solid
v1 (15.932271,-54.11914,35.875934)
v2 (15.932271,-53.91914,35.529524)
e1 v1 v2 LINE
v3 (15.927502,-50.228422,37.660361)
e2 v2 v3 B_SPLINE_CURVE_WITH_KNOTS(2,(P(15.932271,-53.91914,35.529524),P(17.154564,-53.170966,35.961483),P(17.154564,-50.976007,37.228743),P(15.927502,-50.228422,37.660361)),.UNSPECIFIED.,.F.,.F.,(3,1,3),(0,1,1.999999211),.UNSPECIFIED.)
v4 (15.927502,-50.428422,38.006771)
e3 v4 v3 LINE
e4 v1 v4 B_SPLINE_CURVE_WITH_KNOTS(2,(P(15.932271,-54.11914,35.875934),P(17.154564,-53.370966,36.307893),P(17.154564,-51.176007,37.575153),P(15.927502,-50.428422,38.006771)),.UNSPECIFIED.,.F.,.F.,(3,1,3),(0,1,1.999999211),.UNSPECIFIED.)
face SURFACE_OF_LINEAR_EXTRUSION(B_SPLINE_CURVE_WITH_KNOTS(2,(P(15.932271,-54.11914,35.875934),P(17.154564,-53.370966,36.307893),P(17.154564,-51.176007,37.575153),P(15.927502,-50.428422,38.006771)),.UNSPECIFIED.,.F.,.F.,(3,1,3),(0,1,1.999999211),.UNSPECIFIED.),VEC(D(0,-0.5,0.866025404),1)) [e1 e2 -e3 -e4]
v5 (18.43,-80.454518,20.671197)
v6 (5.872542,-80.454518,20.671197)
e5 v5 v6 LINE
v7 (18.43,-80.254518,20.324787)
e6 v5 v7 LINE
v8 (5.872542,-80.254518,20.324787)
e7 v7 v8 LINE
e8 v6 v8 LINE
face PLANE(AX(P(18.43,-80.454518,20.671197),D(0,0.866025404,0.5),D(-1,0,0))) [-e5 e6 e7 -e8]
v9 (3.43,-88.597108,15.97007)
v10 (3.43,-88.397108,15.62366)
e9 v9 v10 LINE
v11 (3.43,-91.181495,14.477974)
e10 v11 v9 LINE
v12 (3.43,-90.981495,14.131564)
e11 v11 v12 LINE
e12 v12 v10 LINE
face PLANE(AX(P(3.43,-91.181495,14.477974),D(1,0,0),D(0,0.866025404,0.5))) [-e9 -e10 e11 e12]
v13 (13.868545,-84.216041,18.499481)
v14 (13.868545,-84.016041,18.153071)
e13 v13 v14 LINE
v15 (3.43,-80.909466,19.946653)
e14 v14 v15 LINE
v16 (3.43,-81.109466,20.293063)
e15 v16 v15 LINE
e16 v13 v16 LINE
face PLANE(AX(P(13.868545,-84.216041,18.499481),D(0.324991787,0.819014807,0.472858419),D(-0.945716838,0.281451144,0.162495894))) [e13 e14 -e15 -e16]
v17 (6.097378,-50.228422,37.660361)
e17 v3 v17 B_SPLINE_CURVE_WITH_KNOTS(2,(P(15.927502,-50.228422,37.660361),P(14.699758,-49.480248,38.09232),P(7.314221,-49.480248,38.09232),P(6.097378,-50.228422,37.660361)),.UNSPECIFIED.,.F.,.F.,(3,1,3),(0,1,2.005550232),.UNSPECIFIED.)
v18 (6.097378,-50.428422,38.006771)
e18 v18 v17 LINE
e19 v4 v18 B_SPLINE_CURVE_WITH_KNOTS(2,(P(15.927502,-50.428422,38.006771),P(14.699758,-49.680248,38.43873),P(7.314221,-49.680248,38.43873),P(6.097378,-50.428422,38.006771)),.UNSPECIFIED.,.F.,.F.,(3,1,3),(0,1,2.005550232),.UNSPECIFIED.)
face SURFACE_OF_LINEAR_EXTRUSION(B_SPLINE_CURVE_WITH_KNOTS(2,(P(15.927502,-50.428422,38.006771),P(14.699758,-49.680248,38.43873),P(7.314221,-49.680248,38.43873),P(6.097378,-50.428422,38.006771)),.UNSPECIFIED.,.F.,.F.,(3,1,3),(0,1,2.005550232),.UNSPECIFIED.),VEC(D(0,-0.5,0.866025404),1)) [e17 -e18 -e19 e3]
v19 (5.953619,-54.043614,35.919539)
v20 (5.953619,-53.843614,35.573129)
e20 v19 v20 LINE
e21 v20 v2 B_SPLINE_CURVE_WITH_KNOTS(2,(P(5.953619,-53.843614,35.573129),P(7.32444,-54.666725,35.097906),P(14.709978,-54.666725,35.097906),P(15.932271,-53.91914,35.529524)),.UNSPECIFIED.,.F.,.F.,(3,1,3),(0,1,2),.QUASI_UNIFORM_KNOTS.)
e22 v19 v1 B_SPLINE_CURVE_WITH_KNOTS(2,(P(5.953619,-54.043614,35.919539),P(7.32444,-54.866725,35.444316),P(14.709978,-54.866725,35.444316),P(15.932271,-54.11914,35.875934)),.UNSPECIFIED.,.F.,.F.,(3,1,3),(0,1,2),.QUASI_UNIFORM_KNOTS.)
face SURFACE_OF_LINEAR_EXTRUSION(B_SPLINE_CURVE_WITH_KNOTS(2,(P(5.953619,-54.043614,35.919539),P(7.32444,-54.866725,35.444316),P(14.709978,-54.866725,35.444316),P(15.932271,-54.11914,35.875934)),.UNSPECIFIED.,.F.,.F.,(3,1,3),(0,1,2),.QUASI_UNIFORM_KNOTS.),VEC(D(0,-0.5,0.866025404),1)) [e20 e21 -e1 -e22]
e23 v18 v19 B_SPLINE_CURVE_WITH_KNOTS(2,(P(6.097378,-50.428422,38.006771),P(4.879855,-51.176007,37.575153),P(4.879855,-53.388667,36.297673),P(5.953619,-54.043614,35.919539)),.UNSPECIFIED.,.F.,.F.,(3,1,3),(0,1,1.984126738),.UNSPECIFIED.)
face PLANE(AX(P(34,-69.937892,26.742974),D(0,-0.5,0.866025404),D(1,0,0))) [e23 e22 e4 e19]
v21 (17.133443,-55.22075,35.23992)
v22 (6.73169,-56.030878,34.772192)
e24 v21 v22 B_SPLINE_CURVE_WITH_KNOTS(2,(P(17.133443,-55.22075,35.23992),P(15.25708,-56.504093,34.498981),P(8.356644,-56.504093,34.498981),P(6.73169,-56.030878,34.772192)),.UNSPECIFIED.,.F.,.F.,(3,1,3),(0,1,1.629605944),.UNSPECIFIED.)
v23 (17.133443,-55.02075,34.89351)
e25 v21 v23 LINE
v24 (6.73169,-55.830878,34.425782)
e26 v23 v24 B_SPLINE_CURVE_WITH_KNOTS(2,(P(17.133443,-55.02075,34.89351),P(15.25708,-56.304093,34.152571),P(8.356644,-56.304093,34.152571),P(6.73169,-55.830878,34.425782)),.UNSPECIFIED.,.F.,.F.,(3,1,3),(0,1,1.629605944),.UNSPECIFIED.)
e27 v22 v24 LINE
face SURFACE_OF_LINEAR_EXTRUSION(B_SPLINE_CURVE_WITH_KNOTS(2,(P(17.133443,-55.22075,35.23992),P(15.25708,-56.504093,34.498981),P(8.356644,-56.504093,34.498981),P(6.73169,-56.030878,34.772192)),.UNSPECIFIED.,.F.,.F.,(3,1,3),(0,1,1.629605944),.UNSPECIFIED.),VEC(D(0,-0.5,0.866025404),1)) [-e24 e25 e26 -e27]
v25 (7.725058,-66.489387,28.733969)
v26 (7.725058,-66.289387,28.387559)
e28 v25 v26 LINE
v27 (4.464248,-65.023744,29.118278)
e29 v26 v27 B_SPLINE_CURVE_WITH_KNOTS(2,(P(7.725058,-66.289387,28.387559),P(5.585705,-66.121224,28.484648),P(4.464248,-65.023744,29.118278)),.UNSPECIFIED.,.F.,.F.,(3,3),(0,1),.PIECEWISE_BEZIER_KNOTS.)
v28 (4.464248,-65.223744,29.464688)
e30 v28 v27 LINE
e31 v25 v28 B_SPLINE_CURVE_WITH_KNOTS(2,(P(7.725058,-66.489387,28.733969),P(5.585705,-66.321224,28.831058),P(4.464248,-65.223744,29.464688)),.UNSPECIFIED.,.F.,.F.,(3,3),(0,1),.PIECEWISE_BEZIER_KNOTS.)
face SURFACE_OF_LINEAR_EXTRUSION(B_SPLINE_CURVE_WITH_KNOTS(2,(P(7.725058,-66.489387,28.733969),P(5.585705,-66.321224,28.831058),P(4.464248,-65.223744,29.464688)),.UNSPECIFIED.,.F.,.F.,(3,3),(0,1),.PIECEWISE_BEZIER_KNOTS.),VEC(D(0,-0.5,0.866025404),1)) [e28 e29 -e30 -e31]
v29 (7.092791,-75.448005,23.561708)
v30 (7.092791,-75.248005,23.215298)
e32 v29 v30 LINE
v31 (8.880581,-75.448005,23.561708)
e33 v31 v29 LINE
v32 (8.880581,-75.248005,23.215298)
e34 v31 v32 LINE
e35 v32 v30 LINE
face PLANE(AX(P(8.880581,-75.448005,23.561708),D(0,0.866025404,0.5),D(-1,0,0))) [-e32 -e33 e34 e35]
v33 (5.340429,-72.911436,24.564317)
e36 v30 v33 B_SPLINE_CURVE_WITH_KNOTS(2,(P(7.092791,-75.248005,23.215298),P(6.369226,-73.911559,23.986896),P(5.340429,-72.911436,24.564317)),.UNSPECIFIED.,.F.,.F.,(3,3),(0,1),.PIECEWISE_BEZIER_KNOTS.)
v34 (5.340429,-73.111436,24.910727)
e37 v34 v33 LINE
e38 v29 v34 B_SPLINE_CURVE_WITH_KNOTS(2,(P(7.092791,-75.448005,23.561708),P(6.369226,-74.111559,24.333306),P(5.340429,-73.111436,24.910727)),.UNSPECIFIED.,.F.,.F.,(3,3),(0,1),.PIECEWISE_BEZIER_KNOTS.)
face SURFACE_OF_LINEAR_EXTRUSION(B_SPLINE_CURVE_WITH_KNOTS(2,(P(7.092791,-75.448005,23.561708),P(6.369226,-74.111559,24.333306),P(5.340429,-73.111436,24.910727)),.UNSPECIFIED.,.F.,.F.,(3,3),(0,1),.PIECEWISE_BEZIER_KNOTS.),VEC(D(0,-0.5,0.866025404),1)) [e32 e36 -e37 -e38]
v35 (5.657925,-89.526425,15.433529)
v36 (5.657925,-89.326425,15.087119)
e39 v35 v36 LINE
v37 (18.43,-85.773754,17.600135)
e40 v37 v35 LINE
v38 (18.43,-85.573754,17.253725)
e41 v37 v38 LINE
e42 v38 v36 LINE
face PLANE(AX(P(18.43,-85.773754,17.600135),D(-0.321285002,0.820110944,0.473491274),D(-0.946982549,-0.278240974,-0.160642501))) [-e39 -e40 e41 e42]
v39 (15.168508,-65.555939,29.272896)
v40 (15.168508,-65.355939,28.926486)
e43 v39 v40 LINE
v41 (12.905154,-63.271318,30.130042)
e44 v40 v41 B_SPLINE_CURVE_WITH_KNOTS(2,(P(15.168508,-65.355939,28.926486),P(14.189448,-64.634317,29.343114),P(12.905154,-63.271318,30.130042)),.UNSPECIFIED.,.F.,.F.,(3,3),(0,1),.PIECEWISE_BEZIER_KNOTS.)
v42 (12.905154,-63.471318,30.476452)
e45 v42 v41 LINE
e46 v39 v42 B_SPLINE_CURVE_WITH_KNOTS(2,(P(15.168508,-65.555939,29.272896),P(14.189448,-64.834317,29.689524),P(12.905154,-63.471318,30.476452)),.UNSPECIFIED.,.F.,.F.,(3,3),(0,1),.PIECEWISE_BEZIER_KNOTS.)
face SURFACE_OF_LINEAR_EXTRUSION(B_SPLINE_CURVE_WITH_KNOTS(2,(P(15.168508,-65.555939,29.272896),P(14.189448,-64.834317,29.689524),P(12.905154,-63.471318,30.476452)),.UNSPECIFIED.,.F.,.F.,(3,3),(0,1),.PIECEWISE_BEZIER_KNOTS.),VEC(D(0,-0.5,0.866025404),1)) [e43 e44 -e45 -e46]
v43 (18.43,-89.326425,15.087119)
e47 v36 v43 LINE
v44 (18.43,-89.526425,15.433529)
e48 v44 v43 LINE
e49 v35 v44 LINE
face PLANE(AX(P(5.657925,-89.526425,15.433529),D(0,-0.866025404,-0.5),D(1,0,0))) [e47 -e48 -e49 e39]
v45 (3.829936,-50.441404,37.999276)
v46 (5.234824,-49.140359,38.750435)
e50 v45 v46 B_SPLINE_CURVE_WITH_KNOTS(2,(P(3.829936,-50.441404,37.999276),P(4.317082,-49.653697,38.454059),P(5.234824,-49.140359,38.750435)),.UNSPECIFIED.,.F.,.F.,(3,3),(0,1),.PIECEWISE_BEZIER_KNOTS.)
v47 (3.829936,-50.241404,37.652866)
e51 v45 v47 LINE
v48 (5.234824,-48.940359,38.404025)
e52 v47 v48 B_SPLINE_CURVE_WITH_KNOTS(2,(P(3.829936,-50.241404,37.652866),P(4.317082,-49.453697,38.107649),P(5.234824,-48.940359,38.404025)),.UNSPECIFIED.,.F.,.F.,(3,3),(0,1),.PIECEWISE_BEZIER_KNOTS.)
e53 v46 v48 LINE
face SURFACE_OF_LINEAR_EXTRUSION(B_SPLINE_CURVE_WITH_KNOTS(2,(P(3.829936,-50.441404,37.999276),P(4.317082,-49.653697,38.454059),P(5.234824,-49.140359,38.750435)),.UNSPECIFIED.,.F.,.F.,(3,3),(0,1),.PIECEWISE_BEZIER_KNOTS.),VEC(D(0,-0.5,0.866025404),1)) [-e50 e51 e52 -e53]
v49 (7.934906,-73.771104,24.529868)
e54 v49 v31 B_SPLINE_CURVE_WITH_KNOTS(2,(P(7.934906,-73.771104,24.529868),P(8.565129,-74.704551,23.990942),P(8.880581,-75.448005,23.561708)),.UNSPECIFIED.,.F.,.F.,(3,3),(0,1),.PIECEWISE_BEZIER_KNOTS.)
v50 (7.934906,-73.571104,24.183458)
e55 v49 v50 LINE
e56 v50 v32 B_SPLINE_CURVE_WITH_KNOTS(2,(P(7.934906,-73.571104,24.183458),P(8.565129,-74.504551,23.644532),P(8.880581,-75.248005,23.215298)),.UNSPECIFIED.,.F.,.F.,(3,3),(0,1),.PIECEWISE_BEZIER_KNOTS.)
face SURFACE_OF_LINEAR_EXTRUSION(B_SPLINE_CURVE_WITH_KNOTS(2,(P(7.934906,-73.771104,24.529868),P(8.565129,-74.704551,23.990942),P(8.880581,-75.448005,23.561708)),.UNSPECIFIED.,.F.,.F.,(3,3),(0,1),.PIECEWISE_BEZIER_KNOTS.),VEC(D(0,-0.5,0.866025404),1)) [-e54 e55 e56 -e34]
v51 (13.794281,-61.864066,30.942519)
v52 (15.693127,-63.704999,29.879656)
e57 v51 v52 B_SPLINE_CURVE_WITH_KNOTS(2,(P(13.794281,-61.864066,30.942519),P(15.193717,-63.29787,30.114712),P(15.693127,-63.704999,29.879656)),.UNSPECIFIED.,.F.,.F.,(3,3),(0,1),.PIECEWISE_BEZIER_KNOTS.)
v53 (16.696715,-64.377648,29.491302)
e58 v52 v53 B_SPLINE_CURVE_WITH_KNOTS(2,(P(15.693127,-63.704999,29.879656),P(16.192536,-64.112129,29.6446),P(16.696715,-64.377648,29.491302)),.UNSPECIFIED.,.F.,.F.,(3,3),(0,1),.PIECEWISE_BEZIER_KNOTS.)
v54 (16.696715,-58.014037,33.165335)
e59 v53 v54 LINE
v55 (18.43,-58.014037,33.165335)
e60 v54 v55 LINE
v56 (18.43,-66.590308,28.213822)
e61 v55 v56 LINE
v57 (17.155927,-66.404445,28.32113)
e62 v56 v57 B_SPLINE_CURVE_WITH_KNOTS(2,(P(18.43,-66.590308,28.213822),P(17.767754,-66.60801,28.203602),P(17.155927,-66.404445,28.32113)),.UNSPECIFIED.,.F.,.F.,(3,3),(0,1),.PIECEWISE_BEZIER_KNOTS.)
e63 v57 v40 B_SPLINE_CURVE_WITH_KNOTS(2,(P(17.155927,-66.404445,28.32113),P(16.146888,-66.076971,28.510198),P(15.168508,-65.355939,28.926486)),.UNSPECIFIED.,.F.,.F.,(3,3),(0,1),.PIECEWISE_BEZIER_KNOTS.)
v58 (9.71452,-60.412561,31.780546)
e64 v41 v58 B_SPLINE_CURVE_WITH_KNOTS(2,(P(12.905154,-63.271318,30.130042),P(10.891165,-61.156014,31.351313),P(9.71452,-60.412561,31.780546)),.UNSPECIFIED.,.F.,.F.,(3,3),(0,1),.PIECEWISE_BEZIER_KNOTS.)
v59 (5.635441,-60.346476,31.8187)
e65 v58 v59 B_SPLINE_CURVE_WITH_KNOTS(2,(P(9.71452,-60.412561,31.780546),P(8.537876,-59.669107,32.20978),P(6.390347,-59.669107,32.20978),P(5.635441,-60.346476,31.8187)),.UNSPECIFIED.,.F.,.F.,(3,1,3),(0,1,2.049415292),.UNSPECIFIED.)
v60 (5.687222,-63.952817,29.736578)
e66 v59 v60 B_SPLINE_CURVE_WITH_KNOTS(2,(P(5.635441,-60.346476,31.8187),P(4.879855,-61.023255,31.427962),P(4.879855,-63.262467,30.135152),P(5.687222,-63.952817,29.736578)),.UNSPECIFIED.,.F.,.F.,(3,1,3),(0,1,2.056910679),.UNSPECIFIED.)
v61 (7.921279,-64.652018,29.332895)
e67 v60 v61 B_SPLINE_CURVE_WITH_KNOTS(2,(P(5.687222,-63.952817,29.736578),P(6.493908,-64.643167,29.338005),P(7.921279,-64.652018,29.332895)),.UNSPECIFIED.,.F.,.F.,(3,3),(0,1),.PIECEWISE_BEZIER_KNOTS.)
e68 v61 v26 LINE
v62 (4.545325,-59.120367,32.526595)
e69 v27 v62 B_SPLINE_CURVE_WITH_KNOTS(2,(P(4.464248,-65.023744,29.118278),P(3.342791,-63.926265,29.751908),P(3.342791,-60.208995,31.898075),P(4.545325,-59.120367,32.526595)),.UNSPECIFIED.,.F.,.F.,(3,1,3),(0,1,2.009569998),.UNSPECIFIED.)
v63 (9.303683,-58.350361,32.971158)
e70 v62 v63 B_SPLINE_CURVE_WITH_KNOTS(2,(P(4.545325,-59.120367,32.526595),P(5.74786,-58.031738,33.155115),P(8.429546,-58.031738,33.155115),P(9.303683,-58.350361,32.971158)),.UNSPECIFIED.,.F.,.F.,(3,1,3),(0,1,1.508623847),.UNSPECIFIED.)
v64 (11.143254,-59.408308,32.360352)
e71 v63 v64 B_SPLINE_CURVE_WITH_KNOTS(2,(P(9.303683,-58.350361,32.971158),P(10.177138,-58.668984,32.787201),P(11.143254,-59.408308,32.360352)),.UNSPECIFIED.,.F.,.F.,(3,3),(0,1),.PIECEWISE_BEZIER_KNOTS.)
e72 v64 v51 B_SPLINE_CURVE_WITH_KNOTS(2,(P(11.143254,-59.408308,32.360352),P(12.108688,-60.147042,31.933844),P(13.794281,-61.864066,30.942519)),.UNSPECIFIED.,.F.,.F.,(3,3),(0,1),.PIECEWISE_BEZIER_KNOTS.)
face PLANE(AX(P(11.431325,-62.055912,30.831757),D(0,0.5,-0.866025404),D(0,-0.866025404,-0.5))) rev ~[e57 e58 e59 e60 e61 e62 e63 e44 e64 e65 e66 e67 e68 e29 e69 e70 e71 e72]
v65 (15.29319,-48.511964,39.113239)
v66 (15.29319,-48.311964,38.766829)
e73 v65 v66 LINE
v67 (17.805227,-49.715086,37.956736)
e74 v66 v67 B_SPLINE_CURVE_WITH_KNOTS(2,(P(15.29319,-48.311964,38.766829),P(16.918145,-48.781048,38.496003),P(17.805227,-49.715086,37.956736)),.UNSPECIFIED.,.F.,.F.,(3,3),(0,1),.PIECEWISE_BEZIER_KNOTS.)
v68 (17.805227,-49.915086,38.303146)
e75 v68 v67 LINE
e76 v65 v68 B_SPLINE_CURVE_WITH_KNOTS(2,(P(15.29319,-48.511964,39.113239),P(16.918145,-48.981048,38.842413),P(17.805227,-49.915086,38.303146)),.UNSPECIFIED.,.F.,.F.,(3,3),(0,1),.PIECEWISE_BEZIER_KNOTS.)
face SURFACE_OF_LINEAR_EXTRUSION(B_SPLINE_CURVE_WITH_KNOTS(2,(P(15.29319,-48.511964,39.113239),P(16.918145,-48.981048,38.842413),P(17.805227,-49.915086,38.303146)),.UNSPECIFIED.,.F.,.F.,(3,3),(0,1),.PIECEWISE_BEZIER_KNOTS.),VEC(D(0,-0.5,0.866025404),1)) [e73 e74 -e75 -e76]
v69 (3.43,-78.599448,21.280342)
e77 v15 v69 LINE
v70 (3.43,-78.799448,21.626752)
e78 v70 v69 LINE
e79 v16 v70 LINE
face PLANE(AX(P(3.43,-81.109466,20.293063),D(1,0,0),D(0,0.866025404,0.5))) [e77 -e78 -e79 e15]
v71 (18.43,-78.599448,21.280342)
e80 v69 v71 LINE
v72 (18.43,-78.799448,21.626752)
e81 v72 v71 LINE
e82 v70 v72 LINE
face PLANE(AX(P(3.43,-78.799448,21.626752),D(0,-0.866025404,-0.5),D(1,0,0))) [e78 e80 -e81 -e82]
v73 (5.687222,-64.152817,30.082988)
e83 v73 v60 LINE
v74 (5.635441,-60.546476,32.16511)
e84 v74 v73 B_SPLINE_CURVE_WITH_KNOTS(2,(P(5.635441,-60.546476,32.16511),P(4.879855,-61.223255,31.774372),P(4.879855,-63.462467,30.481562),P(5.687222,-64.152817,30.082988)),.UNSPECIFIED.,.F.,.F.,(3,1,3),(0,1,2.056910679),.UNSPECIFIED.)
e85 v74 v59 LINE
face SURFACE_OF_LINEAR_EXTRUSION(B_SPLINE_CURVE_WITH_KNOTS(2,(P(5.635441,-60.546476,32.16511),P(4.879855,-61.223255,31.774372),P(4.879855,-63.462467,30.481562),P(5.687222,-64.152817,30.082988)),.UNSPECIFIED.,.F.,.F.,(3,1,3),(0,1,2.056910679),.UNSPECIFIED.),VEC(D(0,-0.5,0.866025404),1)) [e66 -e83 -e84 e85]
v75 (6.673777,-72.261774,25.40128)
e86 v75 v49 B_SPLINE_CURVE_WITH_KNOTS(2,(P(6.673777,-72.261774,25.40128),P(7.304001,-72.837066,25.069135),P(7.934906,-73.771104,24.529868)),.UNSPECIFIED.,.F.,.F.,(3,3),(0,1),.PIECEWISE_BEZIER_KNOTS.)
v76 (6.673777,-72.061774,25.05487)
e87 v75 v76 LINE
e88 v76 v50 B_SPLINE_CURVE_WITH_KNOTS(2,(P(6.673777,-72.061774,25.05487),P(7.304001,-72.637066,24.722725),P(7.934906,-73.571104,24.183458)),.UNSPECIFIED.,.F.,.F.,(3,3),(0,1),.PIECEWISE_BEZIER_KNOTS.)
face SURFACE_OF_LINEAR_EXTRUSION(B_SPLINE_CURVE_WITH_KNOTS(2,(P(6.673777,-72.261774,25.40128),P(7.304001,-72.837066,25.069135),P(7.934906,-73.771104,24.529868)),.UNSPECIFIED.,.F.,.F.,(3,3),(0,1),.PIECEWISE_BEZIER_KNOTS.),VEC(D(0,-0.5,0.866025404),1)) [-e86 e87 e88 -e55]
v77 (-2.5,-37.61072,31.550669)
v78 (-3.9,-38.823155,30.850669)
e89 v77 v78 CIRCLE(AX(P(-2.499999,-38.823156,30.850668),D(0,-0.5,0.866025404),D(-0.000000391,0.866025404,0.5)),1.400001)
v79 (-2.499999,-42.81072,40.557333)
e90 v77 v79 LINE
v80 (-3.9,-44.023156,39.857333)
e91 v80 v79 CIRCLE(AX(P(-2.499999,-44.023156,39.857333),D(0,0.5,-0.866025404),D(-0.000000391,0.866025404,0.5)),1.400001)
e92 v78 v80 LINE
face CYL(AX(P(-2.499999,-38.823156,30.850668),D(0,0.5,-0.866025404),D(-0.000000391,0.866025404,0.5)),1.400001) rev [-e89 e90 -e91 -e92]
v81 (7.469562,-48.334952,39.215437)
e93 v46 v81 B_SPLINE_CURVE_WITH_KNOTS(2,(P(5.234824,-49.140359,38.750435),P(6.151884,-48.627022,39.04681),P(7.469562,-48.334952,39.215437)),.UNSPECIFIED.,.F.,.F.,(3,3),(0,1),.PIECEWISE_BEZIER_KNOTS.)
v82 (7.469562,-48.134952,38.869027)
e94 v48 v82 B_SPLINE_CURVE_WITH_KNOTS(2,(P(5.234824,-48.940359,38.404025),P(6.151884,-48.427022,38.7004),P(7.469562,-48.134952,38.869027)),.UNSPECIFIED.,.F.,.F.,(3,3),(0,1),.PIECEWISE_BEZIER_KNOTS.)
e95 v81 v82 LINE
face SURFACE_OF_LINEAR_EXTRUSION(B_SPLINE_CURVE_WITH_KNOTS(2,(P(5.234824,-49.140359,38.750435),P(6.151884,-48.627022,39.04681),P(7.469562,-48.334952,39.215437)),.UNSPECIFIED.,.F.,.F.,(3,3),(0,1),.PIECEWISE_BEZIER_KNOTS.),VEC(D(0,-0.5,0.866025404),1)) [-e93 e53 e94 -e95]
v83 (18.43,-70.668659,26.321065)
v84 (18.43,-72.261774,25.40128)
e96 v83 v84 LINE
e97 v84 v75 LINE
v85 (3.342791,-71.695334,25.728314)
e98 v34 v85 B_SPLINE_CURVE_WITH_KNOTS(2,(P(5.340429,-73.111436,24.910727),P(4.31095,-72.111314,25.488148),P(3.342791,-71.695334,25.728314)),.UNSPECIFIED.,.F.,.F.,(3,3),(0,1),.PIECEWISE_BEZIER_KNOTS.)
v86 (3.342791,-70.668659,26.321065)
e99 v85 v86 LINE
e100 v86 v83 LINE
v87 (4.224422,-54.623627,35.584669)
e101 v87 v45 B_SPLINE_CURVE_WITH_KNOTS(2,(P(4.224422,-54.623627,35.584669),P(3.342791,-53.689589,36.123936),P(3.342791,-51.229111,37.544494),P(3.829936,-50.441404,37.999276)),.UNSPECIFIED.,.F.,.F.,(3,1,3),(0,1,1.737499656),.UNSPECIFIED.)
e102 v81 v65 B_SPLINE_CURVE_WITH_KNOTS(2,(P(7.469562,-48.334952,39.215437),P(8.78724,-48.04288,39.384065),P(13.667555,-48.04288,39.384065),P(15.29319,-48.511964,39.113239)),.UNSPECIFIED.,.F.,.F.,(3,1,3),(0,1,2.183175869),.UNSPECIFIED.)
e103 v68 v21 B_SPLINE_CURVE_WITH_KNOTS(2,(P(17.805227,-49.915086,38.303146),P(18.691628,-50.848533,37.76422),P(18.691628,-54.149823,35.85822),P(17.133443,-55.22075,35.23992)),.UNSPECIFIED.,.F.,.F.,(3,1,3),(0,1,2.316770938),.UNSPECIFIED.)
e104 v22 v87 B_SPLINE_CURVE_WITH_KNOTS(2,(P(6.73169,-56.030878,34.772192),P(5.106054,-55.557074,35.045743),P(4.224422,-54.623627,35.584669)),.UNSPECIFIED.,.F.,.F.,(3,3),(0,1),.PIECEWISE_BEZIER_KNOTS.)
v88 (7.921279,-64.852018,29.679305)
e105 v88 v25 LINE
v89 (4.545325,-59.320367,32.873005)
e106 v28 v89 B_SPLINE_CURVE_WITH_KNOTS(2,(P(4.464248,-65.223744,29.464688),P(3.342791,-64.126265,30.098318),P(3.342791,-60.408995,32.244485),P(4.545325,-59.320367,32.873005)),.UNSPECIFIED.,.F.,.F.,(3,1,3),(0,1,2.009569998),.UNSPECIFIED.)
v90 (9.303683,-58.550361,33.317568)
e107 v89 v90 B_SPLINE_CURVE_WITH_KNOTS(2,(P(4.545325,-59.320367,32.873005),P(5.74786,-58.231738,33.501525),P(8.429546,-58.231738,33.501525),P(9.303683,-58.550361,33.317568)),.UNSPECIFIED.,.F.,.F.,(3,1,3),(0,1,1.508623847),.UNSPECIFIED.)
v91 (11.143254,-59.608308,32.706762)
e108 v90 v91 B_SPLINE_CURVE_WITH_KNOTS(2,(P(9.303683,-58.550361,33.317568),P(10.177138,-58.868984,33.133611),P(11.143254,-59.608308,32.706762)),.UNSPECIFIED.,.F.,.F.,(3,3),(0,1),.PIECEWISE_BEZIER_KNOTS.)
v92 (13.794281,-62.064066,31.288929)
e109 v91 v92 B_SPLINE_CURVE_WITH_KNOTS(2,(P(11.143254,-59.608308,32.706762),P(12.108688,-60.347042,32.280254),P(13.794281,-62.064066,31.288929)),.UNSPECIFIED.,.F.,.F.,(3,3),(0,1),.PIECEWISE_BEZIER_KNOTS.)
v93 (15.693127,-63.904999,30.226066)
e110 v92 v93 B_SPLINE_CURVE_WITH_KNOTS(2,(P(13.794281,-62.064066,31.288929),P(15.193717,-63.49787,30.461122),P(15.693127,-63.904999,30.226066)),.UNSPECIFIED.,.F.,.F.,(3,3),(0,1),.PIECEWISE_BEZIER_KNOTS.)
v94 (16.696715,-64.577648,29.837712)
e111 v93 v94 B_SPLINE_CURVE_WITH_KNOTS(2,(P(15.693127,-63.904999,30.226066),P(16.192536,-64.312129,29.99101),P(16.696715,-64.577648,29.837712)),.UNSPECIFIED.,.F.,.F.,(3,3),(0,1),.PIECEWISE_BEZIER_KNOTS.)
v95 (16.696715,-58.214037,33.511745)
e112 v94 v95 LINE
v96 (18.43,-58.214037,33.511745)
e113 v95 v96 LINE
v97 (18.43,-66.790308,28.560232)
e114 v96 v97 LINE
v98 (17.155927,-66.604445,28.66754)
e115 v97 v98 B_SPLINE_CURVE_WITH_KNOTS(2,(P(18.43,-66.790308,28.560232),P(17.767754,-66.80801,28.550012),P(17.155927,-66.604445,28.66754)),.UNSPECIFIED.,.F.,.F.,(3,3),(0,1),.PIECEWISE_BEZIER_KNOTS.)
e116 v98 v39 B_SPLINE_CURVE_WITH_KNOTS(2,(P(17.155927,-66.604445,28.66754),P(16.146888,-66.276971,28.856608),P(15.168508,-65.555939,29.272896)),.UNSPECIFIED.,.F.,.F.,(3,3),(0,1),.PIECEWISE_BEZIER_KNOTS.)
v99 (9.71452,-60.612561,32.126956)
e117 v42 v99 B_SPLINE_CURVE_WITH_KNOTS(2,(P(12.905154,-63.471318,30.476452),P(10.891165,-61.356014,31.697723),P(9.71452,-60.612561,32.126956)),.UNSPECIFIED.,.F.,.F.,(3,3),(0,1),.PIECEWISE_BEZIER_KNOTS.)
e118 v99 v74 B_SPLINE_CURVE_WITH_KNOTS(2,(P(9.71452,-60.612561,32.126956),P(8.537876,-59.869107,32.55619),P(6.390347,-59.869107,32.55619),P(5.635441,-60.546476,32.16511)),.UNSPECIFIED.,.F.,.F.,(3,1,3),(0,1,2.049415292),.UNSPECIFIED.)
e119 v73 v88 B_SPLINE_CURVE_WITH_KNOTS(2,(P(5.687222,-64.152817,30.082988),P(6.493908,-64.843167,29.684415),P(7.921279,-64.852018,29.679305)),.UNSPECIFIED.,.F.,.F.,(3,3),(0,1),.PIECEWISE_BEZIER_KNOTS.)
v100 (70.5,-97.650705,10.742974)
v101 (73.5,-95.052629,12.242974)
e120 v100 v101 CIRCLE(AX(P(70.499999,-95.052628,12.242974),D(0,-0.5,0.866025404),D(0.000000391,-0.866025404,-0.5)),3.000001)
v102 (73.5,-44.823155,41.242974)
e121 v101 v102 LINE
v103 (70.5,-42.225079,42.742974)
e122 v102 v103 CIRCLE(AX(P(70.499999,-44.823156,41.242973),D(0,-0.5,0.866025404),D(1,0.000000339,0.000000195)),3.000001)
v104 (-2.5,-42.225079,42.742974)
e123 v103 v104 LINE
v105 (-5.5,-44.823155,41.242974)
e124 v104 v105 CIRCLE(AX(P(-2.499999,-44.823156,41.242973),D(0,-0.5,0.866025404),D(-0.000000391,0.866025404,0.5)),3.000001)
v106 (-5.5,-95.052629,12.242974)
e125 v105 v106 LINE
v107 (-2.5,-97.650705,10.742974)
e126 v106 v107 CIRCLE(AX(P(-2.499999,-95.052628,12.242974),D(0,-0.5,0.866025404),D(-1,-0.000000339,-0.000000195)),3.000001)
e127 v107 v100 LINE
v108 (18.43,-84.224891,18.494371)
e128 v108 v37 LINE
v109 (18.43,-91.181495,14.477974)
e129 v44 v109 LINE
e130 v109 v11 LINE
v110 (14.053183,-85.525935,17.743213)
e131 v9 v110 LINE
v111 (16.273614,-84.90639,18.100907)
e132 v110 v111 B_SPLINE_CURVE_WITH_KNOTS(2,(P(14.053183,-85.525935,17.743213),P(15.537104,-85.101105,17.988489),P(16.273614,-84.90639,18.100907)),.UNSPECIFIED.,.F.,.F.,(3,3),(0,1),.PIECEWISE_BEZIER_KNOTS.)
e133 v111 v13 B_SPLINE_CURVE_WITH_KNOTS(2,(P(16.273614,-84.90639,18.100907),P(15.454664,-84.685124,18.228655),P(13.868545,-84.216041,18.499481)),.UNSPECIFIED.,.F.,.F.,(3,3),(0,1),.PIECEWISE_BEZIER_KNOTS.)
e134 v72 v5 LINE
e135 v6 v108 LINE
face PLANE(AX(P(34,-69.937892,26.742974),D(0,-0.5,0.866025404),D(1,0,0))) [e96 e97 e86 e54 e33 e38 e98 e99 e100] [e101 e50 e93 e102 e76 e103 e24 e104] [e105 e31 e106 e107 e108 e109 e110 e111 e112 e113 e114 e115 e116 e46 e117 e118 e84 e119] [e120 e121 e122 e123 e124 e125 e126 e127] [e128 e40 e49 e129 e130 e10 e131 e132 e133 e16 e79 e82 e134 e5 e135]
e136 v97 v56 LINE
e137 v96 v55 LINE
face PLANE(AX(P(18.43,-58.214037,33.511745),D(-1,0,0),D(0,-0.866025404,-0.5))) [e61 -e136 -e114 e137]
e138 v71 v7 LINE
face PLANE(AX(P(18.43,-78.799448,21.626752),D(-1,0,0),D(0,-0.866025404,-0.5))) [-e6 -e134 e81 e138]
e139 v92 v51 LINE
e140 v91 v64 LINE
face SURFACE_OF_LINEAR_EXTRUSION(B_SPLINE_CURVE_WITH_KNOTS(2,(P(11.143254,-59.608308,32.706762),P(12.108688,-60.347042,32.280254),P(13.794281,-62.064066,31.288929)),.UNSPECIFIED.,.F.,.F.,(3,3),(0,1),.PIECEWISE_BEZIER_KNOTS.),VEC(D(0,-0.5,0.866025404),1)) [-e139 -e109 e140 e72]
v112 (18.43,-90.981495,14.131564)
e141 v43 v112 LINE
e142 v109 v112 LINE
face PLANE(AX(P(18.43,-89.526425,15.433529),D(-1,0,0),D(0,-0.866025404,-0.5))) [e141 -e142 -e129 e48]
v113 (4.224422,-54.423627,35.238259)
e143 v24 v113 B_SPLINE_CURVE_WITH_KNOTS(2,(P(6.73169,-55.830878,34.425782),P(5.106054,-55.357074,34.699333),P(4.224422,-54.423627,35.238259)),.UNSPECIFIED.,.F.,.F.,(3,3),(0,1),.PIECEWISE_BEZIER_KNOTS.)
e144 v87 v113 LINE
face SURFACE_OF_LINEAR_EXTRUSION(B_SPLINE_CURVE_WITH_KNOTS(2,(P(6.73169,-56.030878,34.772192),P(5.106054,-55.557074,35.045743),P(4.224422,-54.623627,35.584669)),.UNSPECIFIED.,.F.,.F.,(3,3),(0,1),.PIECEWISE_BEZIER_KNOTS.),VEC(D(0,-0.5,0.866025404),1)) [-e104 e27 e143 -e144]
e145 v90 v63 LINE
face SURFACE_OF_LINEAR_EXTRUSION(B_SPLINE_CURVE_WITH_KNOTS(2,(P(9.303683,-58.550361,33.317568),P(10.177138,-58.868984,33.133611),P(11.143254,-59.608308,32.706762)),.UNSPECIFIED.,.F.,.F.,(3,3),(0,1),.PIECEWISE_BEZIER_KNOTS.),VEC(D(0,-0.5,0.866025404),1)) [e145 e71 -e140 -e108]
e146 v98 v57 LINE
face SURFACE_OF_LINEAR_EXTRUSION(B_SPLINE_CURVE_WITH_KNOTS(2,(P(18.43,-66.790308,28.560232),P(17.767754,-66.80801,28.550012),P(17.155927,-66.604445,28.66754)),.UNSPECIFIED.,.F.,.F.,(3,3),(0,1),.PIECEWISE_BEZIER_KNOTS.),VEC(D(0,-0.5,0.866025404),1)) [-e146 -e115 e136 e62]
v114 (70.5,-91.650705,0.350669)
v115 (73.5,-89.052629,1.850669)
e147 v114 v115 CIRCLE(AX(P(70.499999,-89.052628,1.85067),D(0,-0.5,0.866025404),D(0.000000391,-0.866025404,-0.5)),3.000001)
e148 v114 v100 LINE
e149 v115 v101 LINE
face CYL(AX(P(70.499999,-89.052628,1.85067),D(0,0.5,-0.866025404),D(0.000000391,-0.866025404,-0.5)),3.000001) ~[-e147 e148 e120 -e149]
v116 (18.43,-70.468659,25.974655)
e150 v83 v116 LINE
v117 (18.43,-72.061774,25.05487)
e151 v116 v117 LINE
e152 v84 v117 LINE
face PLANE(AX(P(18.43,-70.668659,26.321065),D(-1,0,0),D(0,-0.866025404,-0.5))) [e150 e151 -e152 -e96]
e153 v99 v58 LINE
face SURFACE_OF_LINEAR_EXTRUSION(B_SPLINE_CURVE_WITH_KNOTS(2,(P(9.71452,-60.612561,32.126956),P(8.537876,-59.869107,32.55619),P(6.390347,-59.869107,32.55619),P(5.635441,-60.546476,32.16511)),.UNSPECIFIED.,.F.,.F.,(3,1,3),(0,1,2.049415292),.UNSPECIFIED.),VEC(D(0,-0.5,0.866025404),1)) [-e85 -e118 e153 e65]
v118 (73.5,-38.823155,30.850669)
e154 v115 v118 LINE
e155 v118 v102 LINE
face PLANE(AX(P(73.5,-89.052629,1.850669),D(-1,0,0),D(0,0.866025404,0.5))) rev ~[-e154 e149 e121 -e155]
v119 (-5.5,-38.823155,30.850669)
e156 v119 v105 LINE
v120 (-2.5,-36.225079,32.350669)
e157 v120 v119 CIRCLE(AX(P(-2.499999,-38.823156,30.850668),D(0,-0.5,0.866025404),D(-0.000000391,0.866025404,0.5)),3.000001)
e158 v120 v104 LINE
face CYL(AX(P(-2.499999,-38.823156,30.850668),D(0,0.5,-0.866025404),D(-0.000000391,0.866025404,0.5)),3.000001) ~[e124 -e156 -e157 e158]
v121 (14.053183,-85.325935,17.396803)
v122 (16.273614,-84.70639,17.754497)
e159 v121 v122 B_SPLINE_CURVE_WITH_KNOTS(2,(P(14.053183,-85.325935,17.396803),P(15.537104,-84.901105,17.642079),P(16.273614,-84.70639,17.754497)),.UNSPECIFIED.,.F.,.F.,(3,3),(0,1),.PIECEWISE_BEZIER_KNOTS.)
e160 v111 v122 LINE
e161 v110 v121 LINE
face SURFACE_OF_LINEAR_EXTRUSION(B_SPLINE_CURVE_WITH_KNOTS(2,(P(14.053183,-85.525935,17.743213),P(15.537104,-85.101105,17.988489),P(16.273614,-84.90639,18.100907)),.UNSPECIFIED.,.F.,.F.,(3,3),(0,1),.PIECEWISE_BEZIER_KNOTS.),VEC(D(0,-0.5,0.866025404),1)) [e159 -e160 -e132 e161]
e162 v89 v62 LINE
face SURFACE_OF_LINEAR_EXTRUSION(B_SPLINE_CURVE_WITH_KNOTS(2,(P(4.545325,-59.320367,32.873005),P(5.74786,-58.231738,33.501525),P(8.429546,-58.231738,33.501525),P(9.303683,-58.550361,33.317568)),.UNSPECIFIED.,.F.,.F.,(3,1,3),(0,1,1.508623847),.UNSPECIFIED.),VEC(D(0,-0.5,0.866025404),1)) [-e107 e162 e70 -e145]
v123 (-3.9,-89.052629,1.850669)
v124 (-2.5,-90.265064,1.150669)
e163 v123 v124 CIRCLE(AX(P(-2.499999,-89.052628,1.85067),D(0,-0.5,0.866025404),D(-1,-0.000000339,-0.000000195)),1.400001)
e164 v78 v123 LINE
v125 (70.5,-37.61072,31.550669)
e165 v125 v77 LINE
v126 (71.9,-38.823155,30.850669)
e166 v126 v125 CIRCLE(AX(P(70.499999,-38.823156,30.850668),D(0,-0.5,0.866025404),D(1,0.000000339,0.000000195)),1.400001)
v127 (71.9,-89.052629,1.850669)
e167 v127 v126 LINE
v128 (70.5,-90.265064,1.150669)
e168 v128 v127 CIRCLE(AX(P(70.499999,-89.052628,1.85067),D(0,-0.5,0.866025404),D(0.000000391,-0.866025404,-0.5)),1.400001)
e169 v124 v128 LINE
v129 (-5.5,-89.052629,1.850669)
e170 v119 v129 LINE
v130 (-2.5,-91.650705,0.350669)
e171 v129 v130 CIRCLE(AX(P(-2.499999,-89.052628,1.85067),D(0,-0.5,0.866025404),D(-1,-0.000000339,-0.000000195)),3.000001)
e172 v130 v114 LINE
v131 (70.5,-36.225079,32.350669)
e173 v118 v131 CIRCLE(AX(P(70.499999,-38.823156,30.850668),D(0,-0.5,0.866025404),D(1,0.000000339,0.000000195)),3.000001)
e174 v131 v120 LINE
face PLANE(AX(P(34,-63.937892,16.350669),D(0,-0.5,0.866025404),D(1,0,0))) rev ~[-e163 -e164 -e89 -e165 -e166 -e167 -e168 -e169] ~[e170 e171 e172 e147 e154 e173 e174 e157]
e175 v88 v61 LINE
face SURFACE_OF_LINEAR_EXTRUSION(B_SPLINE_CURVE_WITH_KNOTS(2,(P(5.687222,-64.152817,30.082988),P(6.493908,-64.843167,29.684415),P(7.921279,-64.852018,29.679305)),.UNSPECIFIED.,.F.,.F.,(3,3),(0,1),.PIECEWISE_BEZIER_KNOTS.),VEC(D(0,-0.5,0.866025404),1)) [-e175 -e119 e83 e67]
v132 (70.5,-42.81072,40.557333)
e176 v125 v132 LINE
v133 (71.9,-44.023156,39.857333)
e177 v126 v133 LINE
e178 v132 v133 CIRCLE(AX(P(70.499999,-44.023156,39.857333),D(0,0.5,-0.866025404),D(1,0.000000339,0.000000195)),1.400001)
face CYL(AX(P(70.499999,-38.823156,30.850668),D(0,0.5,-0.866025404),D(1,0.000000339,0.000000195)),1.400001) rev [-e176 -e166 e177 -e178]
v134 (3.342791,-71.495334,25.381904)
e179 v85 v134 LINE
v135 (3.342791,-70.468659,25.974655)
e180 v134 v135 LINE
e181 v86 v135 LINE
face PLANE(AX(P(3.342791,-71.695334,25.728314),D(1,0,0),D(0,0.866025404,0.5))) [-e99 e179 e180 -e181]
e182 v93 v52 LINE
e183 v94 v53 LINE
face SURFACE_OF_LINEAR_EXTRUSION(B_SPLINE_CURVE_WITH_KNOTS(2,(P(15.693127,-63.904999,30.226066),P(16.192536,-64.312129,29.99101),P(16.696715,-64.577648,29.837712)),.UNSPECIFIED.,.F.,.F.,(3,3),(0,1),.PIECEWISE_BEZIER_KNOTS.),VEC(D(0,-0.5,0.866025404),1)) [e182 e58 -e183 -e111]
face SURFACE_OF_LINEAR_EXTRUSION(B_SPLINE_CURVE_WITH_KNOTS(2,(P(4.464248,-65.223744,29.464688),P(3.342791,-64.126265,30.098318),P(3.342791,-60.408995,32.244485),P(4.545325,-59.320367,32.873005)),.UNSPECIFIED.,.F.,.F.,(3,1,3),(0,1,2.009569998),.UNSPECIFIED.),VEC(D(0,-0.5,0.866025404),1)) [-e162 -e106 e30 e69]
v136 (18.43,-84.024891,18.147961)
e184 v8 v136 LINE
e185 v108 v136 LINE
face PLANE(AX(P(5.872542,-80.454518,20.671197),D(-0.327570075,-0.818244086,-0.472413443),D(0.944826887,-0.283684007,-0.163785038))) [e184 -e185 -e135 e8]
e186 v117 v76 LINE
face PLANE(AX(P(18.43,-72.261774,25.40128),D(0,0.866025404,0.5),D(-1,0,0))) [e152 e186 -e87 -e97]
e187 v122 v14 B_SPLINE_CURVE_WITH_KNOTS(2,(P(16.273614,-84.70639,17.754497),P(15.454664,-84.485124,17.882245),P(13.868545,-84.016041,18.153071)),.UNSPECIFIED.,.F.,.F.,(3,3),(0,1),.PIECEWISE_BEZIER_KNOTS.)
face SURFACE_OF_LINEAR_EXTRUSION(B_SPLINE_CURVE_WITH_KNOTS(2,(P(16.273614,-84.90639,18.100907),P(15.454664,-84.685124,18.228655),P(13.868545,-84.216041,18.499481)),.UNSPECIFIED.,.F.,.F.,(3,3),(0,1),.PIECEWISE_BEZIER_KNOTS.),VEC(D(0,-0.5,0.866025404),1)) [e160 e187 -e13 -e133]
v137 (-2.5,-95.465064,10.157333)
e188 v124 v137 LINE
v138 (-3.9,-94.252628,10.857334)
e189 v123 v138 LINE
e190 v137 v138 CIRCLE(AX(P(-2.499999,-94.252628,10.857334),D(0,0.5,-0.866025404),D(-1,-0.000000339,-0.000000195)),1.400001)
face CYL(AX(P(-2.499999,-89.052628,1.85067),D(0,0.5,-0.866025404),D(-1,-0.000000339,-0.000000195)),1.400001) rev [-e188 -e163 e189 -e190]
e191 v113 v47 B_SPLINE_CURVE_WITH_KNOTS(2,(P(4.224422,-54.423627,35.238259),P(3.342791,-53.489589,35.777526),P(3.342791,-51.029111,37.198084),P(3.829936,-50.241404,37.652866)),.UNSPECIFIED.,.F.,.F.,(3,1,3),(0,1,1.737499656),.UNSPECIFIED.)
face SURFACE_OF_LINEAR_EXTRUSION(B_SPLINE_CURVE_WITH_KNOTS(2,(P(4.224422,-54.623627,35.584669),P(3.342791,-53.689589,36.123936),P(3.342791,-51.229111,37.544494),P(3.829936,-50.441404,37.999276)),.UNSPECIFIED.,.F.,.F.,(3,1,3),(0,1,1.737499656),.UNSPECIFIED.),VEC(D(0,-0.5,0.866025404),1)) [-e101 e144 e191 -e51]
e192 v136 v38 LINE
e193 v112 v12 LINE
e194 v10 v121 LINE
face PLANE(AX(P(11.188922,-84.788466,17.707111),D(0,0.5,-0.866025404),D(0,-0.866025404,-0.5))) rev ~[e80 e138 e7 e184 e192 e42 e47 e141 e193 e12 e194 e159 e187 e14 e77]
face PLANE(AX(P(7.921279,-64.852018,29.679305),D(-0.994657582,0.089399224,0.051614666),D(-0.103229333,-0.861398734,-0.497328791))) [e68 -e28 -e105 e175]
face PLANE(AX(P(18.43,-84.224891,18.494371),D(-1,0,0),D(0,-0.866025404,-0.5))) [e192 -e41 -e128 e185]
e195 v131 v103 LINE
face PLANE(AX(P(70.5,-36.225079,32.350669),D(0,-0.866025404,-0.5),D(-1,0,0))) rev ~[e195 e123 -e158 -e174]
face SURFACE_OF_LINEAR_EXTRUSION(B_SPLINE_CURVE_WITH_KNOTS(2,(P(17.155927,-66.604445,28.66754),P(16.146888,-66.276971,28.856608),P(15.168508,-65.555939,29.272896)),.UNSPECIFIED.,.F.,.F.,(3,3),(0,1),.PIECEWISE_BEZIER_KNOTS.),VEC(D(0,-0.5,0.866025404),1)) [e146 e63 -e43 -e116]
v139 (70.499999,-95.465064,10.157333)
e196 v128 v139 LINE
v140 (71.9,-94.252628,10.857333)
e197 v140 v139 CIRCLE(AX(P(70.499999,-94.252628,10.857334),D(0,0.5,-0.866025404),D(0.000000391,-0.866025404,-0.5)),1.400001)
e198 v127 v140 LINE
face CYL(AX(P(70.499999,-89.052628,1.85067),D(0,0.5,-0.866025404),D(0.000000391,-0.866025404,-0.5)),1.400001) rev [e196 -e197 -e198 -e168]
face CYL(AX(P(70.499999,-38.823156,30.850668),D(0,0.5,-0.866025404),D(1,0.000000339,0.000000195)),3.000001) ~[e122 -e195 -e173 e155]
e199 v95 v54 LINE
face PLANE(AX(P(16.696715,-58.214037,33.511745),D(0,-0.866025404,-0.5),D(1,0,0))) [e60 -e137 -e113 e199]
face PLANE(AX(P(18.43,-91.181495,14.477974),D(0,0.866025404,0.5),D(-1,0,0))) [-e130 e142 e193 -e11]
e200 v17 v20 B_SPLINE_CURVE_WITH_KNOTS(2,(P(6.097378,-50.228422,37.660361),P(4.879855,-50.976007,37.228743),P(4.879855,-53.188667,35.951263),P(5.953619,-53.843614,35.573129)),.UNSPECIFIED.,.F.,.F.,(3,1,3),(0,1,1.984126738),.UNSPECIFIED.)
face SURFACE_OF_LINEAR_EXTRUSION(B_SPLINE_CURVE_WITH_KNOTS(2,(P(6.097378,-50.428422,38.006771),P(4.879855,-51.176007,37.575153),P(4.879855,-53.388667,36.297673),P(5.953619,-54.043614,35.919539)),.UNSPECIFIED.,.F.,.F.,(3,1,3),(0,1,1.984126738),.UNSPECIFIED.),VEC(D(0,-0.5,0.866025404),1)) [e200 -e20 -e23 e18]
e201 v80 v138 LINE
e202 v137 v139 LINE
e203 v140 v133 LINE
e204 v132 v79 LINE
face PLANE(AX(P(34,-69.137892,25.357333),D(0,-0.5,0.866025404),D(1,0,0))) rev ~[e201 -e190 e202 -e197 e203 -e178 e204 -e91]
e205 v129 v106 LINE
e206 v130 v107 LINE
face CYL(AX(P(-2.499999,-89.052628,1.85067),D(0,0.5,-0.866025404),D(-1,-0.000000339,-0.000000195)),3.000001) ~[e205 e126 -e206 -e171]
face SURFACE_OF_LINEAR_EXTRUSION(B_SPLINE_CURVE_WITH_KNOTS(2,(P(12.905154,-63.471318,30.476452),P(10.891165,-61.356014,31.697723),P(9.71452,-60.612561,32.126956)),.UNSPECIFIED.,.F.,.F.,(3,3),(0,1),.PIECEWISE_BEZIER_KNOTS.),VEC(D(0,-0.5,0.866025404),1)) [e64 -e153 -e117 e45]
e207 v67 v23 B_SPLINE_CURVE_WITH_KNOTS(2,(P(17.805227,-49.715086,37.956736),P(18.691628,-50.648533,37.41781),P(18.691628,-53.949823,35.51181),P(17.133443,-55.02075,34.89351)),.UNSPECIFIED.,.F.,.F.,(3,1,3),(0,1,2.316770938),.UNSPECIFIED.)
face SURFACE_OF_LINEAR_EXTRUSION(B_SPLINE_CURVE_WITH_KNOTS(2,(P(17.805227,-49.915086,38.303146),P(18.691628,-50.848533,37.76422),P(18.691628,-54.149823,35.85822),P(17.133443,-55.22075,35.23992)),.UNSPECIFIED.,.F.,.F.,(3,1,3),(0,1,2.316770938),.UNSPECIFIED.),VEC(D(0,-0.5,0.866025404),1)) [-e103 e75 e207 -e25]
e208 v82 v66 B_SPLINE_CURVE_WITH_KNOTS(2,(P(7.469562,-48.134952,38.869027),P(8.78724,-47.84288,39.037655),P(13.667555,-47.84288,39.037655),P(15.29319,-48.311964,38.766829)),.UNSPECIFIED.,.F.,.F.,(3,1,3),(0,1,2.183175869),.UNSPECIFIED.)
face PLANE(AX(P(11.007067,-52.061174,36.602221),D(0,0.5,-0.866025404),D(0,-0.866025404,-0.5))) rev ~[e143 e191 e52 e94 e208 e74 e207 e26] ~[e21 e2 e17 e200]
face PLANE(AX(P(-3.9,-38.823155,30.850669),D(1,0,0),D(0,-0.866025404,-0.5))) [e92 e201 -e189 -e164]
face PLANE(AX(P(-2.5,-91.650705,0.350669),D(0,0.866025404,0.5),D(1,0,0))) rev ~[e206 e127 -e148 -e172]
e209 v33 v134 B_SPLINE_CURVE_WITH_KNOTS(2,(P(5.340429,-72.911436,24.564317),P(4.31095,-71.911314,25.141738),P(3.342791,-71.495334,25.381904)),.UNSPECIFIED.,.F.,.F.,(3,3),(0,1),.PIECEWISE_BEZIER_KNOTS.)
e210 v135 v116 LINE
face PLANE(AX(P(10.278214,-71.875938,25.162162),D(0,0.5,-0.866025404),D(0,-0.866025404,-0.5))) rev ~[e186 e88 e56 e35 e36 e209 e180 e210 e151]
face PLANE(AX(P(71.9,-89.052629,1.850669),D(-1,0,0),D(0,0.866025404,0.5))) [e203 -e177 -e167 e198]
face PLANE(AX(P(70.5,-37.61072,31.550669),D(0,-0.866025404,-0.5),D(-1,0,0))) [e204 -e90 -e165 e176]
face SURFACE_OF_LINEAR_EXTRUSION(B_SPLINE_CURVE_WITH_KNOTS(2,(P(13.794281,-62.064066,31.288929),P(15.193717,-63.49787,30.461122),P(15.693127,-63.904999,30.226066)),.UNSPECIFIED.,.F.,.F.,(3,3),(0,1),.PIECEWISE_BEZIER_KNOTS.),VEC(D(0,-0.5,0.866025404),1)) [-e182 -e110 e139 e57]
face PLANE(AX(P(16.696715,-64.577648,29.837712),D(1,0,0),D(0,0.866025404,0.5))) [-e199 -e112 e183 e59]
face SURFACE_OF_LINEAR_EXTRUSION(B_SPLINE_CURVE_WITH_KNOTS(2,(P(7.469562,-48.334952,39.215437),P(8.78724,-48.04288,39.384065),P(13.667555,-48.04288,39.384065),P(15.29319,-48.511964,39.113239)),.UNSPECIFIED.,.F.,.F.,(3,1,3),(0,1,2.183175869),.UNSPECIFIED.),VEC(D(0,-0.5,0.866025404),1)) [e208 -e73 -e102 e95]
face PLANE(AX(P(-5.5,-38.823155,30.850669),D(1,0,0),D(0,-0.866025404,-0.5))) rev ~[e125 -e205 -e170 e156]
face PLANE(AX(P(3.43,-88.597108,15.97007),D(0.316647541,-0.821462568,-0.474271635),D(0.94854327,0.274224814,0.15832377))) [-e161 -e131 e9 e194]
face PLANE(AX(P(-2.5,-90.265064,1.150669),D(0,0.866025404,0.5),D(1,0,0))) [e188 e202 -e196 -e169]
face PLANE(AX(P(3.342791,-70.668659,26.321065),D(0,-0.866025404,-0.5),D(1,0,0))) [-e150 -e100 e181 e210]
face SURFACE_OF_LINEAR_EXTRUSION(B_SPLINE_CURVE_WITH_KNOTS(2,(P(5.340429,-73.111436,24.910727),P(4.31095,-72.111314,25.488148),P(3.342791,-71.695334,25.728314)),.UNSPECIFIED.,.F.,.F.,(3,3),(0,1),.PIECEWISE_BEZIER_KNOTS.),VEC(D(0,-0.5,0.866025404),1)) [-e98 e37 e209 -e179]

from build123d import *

# Parameters (mm, degrees)
PAD006_DEPTH            = 12
THICKNESS_T             = -1.6
POCKET005_DEPTH         = 0.4
BODY005_PLACEMENT_ANGLE = 30


with BuildPart() as part:
    # Sketch011 → Pad006 (new body)
    with BuildSketch(Plane.XY):
        with BuildLine():
            Line((-39.5, 29), (-39.5, -29))
            ThreePointArc((-39.5, -29), (-38.62132, -31.12132), (-36.5, -32))
            Line((-36.5, -32), (36.5, -32))
            ThreePointArc((36.5, -32), (38.62132, -31.12132), (39.5, -29))
            Line((39.5, -29), (39.5, 29))
            ThreePointArc((39.5, 29), (38.62132, 31.12132), (36.5, 32))
            Line((36.5, 32), (-36.5, 32))
            ThreePointArc((-36.5, 32), (-38.62132, 31.12132), (-39.5, 29))
        make_face()
    extrude(amount=PAD006_DEPTH)

    # Thickness
    thickness_openings = [part.faces().sort_by_distance(p)[0] for p in [
        (0, 0, 0),
    ]]
    offset(amount=THICKNESS_T, openings=thickness_openings)

    # Sketch012 (on Face9 of Thickness) → Pocket005 (cut)
    with BuildSketch(Plane(origin=(-25, 7, 12), x_dir=(0, 1, 0), z_dir=(0, 0, 1))):
        with BuildLine():
            Line((-31.53, -9.43), (-31.53, 5.57))
            Line((-31.53, 5.57), (-28.545807, 5.57))
            Line((-28.545807, 5.57), (-24.999522, -5.053183))
            add(Edge.make_bspline(
                [(-24.999522, -5.053183), (-24.50897, -6.537104), (-24.284133, -7.273614)],
                knots=[0, 0, 0, 1, 1, 1], degree=2))
            add(Edge.make_bspline(
                [(-24.284133, -7.273614), (-24.028637, -6.454664), (-23.486986, -4.868545)],
                knots=[0, 0, 0, 1, 1, 1], degree=2))
            Line((-23.486986, -4.868545), (-19.899822, 5.57))
            Line((-19.899822, 5.57), (-17.232444, 5.57))
            Line((-17.232444, 5.57), (-17.232444, -9.43))
            Line((-17.232444, -9.43), (-19.143554, -9.43))
            Line((-19.143554, -9.43), (-19.143554, 3.127458))
            Line((-19.143554, 3.127458), (-23.497206, -9.43))
            Line((-23.497206, -9.43), (-25.285678, -9.43))
            Line((-25.285678, -9.43), (-29.61889, 3.342075))
            Line((-29.61889, 3.342075), (-29.61889, -9.43))
            Line((-29.61889, -9.43), (-31.53, -9.43))
        make_face()
        with BuildLine():
            Line((-7.843817, -9.43), (-9.683388, -9.43))
            Line((-9.683388, -9.43), (-9.683388, 2.326223))
            add(Edge.make_bspline(
                [(-9.683388, 2.326223), (-10.347678, 1.695999), (-11.426212, 1.065094)],
                knots=[0, 0, 0, 1, 1, 1], degree=2))
            add(Edge.make_bspline(
                [(-11.426212, 1.065094), (-12.504064, 0.434871), (-13.362531, 0.119419)],
                knots=[0, 0, 0, 1, 1, 1], degree=2))
            Line((-13.362531, 0.119419), (-13.362531, 1.907209))
            add(Edge.make_bspline(
                [(-13.362531, 1.907209), (-11.819335, 2.630774), (-10.664493, 3.659571)],
                knots=[0, 0, 0, 1, 1, 1], degree=2))
            add(Edge.make_bspline(
                [(-10.664493, 3.659571), (-9.509651, 4.68905), (-9.029319, 5.657209)],
                knots=[0, 0, 0, 1, 1, 1], degree=2))
            Line((-9.029319, 5.657209), (-7.843817, 5.657209))
            Line((-7.843817, 5.657209), (-7.843817, -9.43))
        make_face()
        with BuildLine():
            Line((6.537542, -7.696715), (6.537542, -9.43))
            Line((6.537542, -9.43), (-3.365483, -9.43))
            add(Edge.make_bspline(
                [(-3.365483, -9.43), (-3.385923, -8.767754), (-3.150867, -8.155927)],
                knots=[0, 0, 0, 1, 1, 1], degree=2))
            add(Edge.make_bspline(
                [(-3.150867, -8.155927), (-2.772732, -7.146888), (-1.940156, -6.168508)],
                knots=[0, 0, 0, 1, 1, 1], degree=2))
            add(Edge.make_bspline(
                [(-1.940156, -6.168508), (-1.106899, -5.189448), (0.466957, -3.905154)],
                knots=[0, 0, 0, 1, 1, 1], degree=2))
            add(Edge.make_bspline(
                [(0.466957, -3.905154), (2.909499, -1.891165), (3.767965, -0.71452)],
                knots=[0, 0, 0, 1, 1, 1], degree=2))
            add(Edge.make_bspline(
                [(3.767965, -0.71452), (4.626432, 0.462124), (4.626432, 1.509998)],
                knots=[0, 0, 0, 1, 1, 1], degree=2))
            add(Edge.make_bspline(
                [(4.626432, 1.509998), (4.626432, 2.609653), (3.844273, 3.364559)],
                knots=[0, 0, 0, 1, 1, 1], degree=2))
            add(Edge.make_bspline(
                [(3.844273, 3.364559), (3.062796, 4.120145), (1.805756, 4.120145)],
                knots=[0, 0, 0, 1, 1, 1], degree=2))
            add(Edge.make_bspline(
                [(1.805756, 4.120145), (0.477177, 4.120145), (-0.319971, 3.312778)],
                knots=[0, 0, 0, 1, 1, 1], degree=2))
            add(Edge.make_bspline(
                [(-0.319971, 3.312778), (-1.117118, 2.506092), (-1.127338, 1.078721)],
                knots=[0, 0, 0, 1, 1, 1], degree=2))
            Line((-1.127338, 1.078721), (-3.018009, 1.274942))
            add(Edge.make_bspline(
                [(-3.018009, 1.274942), (-2.823832, 3.414295), (-1.556571, 4.535752)],
                knots=[0, 0, 0, 1, 1, 1], degree=2))
            add(Edge.make_bspline(
                [(-1.556571, 4.535752), (-0.289311, 5.657209), (1.846635, 5.657209)],
                knots=[0, 0, 0, 1, 1, 1], degree=2))
            add(Edge.make_bspline(
                [(1.846635, 5.657209), (4.003022, 5.657209), (5.260062, 4.454675)],
                knots=[0, 0, 0, 1, 1, 1], degree=2))
            add(Edge.make_bspline(
                [(5.260062, 4.454675), (6.517102, 3.25214), (6.517102, 1.474569)],
                knots=[0, 0, 0, 1, 1, 1], degree=2))
            add(Edge.make_bspline(
                [(6.517102, 1.474569), (6.517102, 0.570454), (6.149188, -0.303683)],
                knots=[0, 0, 0, 1, 1, 1], degree=2))
            add(Edge.make_bspline(
                [(6.149188, -0.303683), (5.781274, -1.177138), (4.927576, -2.143254)],
                knots=[0, 0, 0, 1, 1, 1], degree=2))
            add(Edge.make_bspline(
                [(4.927576, -2.143254), (4.07456, -3.108688), (2.091911, -4.794281)],
                knots=[0, 0, 0, 1, 1, 1], degree=2))
            add(Edge.make_bspline(
                [(2.091911, -4.794281), (0.436297, -6.193717), (-0.033815, -6.693127)],
                knots=[0, 0, 0, 1, 1, 1], degree=2))
            add(Edge.make_bspline(
                [(-0.033815, -6.693127), (-0.503928, -7.192536), (-0.810523, -7.696715)],
                knots=[0, 0, 0, 1, 1, 1], degree=2))
            Line((-0.810523, -7.696715), (6.537542, -7.696715))
        make_face()
        with BuildLine():
            add(Edge.make_bspline(
                [(8.512015, -2.02266), (8.512015, 0.643356), (9.058436, 2.26831)],
                knots=[0, 0, 0, 1, 1, 1], degree=2))
            add(Edge.make_bspline(
                [(9.058436, 2.26831), (9.605538, 3.893946), (10.68339, 4.775578)],
                knots=[0, 0, 0, 1, 1, 1], degree=2))
            add(Edge.make_bspline(
                [(10.68339, 4.775578), (11.761924, 5.657209), (13.397099, 5.657209)],
                knots=[0, 0, 0, 1, 1, 1], degree=2))
            add(Edge.make_bspline(
                [(13.397099, 5.657209), (14.60304, 5.657209), (15.512605, 5.170064)],
                knots=[0, 0, 0, 1, 1, 1], degree=2))
            add(Edge.make_bspline(
                [(15.512605, 5.170064), (16.422171, 4.682918), (17.014922, 3.765176)],
                knots=[0, 0, 0, 1, 1, 1], degree=2))
            add(Edge.make_bspline(
                [(17.014922, 3.765176), (17.607673, 2.848116), (17.944927, 1.530438)],
                knots=[0, 0, 0, 1, 1, 1], degree=2))
            add(Edge.make_bspline(
                [(17.944927, 1.530438), (18.282182, 0.21276), (18.282182, -2.02266)],
                knots=[0, 0, 0, 1, 1, 1], degree=2))
            add(Edge.make_bspline(
                [(18.282182, -2.02266), (18.282182, -4.667555), (17.740531, -6.29319)],
                knots=[0, 0, 0, 1, 1, 1], degree=2))
            add(Edge.make_bspline(
                [(17.740531, -6.29319), (17.198879, -7.918145), (16.120345, -8.805227)],
                knots=[0, 0, 0, 1, 1, 1], degree=2))
            add(Edge.make_bspline(
                [(16.120345, -8.805227), (15.042493, -9.691628), (13.397099, -9.691628)],
                knots=[0, 0, 0, 1, 1, 1], degree=2))
            add(Edge.make_bspline(
                [(13.397099, -9.691628), (11.230492, -9.691628), (9.993892, -8.133443)],
                knots=[0, 0, 0, 1, 1, 1], degree=2))
            add(Edge.make_bspline(
                [(9.993892, -8.133443), (8.512015, -6.25708), (8.512015, -2.02266)],
                knots=[0, 0, 0, 1, 1, 1], degree=2))
        make_face()
        with BuildLine():
            add(Edge.make_bspline(
                [(10.402685, -2.017209), (10.402685, -5.709978), (11.265921, -6.932271)],
                knots=[0, 0, 0, 1, 1, 1], degree=2))
            add(Edge.make_bspline(
                [(11.265921, -6.932271), (12.129838, -8.154564), (13.397099, -8.154564)],
                knots=[0, 0, 0, 1, 1, 1], degree=2))
            add(Edge.make_bspline(
                [(13.397099, -8.154564), (14.664359, -8.154564), (15.527595, -6.927502)],
                knots=[0, 0, 0, 1, 1, 1], degree=2))
            add(Edge.make_bspline(
                [(15.527595, -6.927502), (16.391512, -5.699758), (16.391512, -2.017209)],
                knots=[0, 0, 0, 1, 1, 1], degree=2))
            add(Edge.make_bspline(
                [(16.391512, -2.017209), (16.391512, 1.685779), (15.527595, 2.902622)],
                knots=[0, 0, 0, 1, 1, 1], degree=2))
            add(Edge.make_bspline(
                [(15.527595, 2.902622), (14.664359, 4.120145), (13.376659, 4.120145)],
                knots=[0, 0, 0, 1, 1, 1], degree=2))
            add(Edge.make_bspline(
                [(13.376659, 4.120145), (12.109399, 4.120145), (11.353131, 3.046381)],
                knots=[0, 0, 0, 1, 1, 1], degree=2))
            add(Edge.make_bspline(
                [(11.353131, 3.046381), (10.402685, 1.67556), (10.402685, -2.017209)],
                knots=[0, 0, 0, 1, 1, 1], degree=2))
        make_face(mode=Mode.SUBTRACT)
    extrude(amount=-POCKET005_DEPTH, mode=Mode.SUBTRACT)


with BuildPart() as part_1:
    # Body005 placement: moved
    add(part.part.moved(Location((34, -63.937892, 16.350669))).rotate(Axis((34, -63.937892, 16.350669), (1, 0, 0)), BODY005_PLACEMENT_ANGLE))


solid = part_1.part
